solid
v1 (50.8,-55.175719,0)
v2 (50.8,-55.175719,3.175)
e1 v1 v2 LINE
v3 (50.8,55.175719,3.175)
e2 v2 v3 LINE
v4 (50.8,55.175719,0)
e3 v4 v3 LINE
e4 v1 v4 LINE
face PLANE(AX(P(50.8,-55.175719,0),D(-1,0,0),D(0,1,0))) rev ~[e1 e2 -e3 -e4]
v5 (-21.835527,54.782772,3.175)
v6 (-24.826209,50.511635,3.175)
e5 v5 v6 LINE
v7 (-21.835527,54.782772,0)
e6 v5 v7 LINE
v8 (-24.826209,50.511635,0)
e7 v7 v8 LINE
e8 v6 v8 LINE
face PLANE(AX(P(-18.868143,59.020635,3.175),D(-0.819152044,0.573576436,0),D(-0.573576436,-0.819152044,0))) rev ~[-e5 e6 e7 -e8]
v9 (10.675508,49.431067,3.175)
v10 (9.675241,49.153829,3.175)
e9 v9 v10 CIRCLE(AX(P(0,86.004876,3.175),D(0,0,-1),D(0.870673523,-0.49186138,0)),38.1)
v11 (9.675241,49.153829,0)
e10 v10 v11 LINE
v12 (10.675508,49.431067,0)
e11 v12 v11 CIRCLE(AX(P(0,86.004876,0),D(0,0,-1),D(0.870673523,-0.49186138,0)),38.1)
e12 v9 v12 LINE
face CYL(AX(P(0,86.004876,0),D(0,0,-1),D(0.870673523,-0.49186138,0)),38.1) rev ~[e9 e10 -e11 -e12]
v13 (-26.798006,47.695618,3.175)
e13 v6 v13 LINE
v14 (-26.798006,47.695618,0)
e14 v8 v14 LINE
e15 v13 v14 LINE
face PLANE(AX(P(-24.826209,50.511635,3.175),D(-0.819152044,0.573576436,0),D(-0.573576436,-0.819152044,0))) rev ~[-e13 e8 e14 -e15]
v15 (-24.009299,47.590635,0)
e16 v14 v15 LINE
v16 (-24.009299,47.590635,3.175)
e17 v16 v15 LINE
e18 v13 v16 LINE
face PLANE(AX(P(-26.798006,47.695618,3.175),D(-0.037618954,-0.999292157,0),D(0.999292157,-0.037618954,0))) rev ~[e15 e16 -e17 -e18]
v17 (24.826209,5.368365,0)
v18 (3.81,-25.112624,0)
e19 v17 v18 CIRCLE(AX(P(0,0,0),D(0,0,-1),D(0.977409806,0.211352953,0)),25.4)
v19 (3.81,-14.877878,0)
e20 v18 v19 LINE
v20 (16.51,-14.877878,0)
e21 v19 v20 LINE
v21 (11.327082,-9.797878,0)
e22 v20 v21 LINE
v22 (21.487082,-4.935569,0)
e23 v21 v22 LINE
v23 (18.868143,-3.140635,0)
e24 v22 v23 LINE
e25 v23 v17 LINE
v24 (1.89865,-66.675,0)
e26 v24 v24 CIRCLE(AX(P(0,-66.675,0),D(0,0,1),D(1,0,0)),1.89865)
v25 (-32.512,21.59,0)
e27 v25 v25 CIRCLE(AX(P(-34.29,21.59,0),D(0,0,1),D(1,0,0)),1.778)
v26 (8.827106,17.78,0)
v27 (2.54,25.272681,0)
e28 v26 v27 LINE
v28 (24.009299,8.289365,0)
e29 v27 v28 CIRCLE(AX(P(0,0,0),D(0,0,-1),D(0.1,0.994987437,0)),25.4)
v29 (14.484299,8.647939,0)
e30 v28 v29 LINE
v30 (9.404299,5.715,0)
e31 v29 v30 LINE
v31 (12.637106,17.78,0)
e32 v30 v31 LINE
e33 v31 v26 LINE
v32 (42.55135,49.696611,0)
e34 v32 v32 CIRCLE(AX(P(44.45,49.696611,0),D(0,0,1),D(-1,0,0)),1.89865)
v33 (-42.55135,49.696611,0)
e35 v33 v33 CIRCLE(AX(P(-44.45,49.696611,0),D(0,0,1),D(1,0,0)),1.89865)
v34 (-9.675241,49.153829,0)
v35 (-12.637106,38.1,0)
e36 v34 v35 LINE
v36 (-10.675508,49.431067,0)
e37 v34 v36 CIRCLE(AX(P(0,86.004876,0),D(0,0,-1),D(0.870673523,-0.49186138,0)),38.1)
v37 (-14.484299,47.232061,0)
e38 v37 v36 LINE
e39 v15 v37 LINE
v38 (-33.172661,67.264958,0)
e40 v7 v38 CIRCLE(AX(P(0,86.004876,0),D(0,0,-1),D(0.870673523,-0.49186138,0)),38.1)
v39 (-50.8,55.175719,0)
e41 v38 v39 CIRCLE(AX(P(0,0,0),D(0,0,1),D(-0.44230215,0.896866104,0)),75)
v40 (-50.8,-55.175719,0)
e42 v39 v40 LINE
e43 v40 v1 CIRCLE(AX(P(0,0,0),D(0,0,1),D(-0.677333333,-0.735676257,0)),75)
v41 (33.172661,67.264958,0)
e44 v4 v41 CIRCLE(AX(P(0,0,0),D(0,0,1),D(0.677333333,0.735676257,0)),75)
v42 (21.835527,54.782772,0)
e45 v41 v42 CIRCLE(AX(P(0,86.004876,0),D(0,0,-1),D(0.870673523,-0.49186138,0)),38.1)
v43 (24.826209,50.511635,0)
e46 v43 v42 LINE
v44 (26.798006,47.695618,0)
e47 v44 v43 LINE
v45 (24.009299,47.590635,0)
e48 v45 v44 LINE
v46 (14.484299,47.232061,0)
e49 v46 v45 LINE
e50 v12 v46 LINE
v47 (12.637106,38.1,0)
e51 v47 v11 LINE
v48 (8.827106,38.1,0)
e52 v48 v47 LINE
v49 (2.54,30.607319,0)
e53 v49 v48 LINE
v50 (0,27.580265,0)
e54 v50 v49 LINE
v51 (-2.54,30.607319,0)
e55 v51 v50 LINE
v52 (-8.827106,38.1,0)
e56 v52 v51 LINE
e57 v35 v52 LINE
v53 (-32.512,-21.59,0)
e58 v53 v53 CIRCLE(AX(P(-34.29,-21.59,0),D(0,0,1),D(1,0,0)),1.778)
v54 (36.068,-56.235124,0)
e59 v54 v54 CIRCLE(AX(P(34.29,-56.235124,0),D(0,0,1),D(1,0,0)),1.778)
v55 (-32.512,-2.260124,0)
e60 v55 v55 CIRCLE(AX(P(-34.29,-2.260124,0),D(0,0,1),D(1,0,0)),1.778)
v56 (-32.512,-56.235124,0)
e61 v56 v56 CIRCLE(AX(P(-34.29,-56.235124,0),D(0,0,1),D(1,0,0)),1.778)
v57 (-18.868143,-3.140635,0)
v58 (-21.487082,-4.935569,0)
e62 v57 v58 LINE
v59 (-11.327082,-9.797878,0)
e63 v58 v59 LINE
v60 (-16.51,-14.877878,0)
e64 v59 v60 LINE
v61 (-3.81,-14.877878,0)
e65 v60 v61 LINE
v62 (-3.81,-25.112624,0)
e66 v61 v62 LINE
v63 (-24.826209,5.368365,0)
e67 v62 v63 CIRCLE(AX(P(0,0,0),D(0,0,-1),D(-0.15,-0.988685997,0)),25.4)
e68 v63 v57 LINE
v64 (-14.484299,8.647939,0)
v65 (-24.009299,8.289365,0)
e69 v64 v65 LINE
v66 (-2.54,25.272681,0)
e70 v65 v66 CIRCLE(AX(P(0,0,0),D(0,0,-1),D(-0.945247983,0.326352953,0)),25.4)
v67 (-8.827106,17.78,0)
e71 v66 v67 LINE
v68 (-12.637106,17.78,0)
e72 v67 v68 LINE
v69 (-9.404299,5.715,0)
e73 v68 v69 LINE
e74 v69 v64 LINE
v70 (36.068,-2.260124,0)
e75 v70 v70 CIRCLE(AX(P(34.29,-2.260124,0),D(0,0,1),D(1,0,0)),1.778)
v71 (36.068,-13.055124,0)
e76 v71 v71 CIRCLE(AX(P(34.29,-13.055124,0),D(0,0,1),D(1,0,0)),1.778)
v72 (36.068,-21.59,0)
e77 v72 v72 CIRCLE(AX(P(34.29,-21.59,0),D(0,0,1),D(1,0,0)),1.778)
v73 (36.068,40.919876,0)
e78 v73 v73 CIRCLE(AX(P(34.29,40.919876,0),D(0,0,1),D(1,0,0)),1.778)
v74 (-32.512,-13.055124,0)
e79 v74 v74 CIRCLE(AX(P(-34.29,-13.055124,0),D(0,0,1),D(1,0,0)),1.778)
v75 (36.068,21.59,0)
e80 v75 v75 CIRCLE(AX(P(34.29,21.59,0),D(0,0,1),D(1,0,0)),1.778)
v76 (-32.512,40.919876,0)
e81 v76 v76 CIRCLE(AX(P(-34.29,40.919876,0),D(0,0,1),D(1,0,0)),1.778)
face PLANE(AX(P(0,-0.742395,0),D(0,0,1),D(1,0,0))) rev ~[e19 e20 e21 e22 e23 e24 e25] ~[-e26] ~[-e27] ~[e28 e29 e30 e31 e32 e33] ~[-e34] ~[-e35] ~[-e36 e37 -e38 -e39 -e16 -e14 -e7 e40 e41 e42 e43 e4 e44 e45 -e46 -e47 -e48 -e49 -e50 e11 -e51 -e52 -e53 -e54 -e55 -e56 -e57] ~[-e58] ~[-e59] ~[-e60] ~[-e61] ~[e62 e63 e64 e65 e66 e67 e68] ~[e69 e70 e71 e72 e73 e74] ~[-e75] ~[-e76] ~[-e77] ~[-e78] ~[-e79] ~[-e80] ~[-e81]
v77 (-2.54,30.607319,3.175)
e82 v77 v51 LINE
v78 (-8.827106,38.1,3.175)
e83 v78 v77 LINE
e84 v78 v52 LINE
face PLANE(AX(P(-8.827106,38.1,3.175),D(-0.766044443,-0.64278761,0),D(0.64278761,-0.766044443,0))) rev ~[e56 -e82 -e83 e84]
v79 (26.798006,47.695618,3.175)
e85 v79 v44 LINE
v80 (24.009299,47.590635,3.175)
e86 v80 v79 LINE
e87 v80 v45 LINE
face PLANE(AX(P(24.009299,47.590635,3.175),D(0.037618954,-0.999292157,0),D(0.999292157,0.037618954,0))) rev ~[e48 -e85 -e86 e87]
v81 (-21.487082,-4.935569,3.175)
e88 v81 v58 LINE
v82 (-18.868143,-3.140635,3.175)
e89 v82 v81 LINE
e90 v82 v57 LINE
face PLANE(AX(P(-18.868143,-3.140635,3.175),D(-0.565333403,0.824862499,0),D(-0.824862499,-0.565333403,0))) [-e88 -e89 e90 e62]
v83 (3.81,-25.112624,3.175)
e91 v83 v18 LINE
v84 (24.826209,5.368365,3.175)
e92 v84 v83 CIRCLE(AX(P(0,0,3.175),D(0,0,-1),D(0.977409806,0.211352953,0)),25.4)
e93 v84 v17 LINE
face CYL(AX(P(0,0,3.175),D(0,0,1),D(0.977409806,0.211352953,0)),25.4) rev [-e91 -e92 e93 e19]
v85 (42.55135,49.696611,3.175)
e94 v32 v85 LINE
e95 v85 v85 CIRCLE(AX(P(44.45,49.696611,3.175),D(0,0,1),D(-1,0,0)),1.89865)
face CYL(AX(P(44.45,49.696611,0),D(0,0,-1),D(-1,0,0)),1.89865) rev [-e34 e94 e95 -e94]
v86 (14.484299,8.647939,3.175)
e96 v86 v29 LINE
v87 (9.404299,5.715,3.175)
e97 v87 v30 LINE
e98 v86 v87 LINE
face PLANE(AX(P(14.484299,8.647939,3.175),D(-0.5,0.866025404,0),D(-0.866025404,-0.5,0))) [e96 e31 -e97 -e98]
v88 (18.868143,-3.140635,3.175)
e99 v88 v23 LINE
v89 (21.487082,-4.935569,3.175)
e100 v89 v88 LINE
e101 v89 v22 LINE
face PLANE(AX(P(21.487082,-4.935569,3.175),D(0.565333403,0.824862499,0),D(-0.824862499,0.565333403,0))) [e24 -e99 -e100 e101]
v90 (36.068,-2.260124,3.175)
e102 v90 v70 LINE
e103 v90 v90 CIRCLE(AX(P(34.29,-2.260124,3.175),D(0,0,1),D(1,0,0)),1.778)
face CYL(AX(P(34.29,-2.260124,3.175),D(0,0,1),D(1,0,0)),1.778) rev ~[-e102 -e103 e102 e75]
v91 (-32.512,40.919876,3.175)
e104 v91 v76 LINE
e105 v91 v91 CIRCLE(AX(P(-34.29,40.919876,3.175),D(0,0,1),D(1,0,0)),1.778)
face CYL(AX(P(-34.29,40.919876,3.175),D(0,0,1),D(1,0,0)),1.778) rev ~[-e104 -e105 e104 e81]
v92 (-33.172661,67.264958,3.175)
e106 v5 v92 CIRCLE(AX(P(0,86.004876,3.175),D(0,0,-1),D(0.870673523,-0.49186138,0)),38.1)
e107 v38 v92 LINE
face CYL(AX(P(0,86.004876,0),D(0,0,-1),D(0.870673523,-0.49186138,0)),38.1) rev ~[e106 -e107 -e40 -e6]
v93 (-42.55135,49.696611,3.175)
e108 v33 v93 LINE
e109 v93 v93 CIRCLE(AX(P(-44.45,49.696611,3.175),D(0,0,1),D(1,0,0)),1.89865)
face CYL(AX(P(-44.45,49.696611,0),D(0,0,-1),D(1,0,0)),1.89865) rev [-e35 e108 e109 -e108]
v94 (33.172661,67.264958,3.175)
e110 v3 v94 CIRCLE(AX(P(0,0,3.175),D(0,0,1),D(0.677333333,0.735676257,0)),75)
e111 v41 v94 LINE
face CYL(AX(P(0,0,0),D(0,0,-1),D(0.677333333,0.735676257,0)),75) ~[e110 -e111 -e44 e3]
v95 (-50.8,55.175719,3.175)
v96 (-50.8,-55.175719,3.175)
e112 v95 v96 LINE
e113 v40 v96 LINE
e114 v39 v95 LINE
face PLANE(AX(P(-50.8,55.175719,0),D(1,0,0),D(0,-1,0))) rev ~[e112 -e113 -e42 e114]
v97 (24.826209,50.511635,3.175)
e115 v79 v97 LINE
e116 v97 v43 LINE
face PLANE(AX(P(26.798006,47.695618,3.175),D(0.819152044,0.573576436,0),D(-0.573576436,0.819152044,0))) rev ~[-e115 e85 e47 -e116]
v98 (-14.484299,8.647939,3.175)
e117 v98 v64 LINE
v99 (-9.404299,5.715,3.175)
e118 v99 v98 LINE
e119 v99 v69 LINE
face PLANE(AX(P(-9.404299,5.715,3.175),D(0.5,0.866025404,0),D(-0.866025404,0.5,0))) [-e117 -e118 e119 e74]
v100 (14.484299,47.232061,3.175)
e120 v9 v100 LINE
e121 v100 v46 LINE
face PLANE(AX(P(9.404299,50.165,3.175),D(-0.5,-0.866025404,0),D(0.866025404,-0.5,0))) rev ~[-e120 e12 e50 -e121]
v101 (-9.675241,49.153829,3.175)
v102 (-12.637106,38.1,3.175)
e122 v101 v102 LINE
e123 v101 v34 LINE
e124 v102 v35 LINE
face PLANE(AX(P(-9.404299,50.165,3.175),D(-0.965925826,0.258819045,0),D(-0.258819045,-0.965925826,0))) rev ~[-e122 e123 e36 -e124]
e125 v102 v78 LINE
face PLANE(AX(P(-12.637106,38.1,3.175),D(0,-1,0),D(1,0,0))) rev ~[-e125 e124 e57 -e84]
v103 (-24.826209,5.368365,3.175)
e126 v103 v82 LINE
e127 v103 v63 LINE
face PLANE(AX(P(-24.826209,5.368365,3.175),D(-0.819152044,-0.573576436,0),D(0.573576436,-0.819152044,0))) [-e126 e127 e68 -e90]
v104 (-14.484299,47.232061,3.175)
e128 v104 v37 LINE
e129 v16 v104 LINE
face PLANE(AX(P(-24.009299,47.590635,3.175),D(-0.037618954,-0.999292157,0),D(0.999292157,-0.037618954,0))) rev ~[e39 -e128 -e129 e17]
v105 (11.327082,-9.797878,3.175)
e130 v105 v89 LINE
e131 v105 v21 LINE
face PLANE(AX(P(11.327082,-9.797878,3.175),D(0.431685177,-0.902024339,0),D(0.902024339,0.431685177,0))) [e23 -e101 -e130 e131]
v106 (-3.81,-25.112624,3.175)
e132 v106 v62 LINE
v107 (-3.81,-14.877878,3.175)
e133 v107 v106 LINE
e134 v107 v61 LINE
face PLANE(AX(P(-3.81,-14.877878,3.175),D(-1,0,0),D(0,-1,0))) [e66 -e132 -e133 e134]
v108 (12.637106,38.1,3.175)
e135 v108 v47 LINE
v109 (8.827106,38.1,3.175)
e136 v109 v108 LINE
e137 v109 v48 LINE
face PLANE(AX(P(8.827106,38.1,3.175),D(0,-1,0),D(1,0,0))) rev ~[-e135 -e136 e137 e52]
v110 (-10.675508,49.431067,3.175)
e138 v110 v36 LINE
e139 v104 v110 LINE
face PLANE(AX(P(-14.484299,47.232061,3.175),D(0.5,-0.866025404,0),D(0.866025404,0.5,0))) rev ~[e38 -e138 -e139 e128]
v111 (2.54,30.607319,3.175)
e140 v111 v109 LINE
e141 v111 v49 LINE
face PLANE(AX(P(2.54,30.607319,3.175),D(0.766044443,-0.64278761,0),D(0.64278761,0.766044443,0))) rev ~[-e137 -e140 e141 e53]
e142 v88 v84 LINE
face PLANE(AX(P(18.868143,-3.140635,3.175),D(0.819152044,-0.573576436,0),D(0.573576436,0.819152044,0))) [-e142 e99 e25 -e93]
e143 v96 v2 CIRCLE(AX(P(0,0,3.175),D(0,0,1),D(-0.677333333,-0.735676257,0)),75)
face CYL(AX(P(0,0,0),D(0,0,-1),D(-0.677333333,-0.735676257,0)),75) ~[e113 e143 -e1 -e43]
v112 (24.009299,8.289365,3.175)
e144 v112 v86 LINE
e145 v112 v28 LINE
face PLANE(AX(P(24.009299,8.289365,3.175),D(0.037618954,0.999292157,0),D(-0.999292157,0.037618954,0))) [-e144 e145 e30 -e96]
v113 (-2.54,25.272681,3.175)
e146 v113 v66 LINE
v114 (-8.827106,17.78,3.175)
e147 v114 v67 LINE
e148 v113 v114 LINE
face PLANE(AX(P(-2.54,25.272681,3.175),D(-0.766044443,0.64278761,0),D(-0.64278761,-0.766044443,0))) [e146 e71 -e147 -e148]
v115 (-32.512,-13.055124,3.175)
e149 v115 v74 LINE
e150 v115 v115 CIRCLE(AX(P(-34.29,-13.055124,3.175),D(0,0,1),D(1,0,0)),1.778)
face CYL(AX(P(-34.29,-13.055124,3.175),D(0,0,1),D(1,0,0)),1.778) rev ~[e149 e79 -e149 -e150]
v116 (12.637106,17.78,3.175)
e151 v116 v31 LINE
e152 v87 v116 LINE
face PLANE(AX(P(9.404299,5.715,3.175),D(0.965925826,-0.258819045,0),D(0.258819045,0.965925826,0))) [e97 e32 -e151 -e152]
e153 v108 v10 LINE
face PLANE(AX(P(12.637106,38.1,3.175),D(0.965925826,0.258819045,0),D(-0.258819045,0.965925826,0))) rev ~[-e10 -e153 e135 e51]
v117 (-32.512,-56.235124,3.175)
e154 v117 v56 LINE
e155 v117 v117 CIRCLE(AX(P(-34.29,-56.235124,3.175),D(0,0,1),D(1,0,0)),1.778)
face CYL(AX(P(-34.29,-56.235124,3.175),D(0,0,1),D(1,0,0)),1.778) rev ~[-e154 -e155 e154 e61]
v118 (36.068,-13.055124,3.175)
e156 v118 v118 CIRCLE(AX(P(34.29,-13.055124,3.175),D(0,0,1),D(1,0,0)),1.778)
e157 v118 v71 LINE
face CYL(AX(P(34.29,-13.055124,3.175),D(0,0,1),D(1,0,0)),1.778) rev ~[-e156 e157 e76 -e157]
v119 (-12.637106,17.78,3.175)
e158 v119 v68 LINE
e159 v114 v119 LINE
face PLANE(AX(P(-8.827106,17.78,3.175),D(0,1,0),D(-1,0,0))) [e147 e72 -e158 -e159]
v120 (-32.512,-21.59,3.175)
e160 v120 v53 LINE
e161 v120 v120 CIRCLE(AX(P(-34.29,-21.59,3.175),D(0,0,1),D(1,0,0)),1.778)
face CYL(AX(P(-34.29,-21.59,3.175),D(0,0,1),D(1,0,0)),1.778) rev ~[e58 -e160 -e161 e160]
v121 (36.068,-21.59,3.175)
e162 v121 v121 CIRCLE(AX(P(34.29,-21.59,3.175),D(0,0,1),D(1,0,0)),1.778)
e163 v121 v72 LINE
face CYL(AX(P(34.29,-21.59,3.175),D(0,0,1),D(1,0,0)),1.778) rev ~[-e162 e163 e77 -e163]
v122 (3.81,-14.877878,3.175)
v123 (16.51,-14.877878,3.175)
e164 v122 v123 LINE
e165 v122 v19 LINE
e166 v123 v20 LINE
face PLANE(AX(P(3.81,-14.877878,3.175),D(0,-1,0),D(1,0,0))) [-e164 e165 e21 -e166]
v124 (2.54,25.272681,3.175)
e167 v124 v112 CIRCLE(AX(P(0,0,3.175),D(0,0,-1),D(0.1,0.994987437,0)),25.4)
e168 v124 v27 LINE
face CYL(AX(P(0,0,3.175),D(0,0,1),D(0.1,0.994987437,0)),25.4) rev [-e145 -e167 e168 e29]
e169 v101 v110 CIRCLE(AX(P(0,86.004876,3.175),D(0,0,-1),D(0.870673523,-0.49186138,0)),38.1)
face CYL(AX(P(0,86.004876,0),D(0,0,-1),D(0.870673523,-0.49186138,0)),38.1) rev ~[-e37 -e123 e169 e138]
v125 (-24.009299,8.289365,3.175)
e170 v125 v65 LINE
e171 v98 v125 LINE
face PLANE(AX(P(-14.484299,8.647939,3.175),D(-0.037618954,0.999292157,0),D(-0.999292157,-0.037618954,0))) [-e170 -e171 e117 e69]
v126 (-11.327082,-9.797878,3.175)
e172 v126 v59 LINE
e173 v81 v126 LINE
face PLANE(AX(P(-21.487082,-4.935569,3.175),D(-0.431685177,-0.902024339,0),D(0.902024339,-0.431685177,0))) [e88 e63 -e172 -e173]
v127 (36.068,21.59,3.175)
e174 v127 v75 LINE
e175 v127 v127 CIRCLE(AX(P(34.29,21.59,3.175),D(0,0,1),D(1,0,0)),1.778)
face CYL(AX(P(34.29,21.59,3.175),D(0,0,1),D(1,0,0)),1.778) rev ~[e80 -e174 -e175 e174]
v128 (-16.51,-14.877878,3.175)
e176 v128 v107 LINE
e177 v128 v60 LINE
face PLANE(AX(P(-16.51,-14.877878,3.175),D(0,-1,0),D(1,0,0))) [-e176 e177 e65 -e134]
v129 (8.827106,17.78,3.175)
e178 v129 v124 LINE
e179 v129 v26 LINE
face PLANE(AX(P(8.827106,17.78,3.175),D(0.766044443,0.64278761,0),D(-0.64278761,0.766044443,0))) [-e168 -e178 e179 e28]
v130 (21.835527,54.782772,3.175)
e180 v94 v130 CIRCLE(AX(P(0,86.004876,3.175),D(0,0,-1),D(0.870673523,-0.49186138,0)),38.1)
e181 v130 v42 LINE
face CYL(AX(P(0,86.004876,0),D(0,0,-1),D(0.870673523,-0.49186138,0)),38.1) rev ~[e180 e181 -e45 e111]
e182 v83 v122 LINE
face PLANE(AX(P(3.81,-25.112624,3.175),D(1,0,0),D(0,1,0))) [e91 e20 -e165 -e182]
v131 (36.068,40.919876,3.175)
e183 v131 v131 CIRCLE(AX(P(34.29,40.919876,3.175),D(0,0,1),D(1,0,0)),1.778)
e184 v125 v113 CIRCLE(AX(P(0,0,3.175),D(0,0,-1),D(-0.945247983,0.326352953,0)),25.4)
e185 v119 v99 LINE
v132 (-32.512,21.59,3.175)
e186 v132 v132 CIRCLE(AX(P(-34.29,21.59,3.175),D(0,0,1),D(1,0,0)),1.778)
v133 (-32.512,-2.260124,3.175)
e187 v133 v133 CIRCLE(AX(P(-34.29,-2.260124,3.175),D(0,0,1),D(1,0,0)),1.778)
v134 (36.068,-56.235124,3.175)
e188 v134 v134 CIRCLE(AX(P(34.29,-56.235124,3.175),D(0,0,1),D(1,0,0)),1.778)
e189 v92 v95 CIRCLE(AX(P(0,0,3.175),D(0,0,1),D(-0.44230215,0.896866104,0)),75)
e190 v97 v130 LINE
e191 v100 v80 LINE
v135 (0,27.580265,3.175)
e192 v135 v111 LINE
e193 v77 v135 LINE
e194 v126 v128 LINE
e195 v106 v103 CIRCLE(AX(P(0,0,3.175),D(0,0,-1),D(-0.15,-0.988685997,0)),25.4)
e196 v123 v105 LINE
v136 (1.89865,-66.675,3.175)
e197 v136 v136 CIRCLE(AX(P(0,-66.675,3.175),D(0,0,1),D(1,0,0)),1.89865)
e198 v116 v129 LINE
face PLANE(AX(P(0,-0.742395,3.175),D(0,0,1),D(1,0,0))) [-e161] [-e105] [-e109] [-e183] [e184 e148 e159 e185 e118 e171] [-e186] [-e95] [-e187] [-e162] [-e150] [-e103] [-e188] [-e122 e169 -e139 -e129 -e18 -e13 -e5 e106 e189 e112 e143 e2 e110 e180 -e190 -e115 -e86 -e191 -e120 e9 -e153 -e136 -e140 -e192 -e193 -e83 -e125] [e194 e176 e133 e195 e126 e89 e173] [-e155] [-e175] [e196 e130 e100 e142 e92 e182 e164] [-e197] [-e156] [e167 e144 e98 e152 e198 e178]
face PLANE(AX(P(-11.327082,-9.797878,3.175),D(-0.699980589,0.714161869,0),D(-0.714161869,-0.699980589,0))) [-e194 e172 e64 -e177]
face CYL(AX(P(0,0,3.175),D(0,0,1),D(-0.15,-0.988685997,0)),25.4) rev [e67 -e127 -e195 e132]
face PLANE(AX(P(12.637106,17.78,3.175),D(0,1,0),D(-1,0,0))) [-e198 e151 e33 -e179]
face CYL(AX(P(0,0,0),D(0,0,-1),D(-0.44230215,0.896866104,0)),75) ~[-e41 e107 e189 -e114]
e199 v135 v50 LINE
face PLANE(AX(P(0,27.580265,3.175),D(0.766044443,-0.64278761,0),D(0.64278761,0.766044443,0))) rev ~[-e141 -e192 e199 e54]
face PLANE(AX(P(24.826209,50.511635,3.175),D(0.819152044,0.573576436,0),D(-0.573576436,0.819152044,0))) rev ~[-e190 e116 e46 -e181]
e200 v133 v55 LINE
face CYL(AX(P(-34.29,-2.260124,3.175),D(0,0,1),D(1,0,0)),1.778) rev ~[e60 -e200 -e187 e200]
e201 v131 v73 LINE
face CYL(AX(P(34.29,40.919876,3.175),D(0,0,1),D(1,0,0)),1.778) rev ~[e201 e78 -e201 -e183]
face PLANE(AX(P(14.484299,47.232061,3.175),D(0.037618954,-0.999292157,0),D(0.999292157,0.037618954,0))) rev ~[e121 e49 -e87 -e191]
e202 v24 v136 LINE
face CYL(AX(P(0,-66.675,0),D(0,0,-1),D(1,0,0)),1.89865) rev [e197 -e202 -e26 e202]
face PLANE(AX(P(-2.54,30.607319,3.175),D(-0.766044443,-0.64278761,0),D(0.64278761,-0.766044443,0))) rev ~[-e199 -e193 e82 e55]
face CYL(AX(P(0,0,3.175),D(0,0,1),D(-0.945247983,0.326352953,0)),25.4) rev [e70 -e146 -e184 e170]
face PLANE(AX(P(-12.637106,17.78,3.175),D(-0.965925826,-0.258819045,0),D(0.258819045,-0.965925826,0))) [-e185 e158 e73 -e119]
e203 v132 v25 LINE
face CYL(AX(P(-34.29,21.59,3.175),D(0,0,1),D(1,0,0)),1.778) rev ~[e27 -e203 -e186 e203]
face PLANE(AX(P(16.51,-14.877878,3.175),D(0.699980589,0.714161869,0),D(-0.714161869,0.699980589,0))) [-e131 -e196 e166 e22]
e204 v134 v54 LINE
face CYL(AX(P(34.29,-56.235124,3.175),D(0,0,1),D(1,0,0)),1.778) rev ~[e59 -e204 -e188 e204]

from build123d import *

# Parameters (mm, degrees)
SKETCH1_R           = 1.89865
BOSS_EXTRUDE3_DEPTH = 3.175
CUT_EXTRUDE2_DEPTH  = 3.175
SKETCH4_R           = 1.778
CUT_EXTRUDE3_DEPTH  = 3.175
SKETCH5_R           = 1.778
CUT_EXTRUDE4_DEPTH  = 3.175
CUT_EXTRUDE5_DEPTH  = 3.175


with BuildPart() as part:
    # Sketch1 → Boss-Extrude3 (new body)
    with BuildSketch(Plane.XY):
        with BuildLine():
            Line((-50.8, 55.175719298), (-50.8, -55.175719298))
            ThreePointArc((-50.8, -55.175719298), (0, -75), (50.8, -55.175719298))
            Line((50.8, -55.175719298), (50.8, 55.175719298))
            ThreePointArc((50.8, 55.175719298), (42.419210034, 61.851520758), (33.172661219, 67.264957799))
            ThreePointArc((33.172661219, 67.264957799), (0, 47.904876359), (-33.172661219, 67.264957799))
            ThreePointArc((-33.172661219, 67.264957799), (-42.419210034, 61.851520758), (-50.8, 55.175719298))
        make_face()
        with Locations((0, -66.675)):
            Circle(SKETCH1_R, mode=Mode.SUBTRACT)
        with Locations((-44.45, 49.6966108)):
            Circle(SKETCH1_R, mode=Mode.SUBTRACT)
        with Locations(Location((44.45, 49.6966108, 0), (0, 0, 180))):
            Circle(SKETCH1_R, mode=Mode.SUBTRACT)
    extrude(amount=BOSS_EXTRUDE3_DEPTH)

    # Sketch3 → Cut-Extrude2 (cut)
    with BuildSketch(Plane.XY.offset(3.175)):
        with BuildLine():
            Line((8.827105782, 17.78), (2.54, 25.272680903))
            ThreePointArc((2.54, 25.272680903), (15.758317518, 19.920728626), (24.009298775, 8.289365013))
            Line((24.009298775, 8.289365013), (14.484298775, 8.647939367))
            Line((14.484298775, 8.647939367), (9.404298775, 5.715))
            Line((9.404298775, 5.715), (12.637105782, 17.78))
            Line((12.637105782, 17.78), (8.827105782, 17.78))
        make_face()
        with BuildLine():
            Line((18.868143133, -3.140634987), (24.826209076, 5.368365013))
            ThreePointArc((24.826209076, 5.368365013), (20.911260009, -14.418016674), (3.81, -25.112624315))
            Line((3.81, -25.112624315), (3.81, -14.877877919))
            Line((3.81, -14.877877919), (16.51, -14.877877919))
            Line((16.51, -14.877877919), (11.327081569, -9.797877919))
            Line((11.327081569, -9.797877919), (21.487081569, -4.935568543))
            Line((21.487081569, -4.935568543), (18.868143133, -3.140634987))
        make_face()
        with BuildLine():
            Line((-3.81, -14.877877919), (-3.81, -25.112624315))
            ThreePointArc((-3.81, -25.112624315), (-20.911260009, -14.418016674), (-24.826209076, 5.368365013))
            Line((-24.826209076, 5.368365013), (-18.868143133, -3.140634987))
            Line((-18.868143133, -3.140634987), (-21.487081569, -4.935568543))
            Line((-21.487081569, -4.935568543), (-11.327081569, -9.797877919))
            Line((-11.327081569, -9.797877919), (-16.51, -14.877877919))
            Line((-16.51, -14.877877919), (-3.81, -14.877877919))
        make_face()
        with BuildLine():
            Line((-14.484298775, 8.647939367), (-24.009298775, 8.289365013))
            ThreePointArc((-24.009298775, 8.289365013), (-15.758317518, 19.920728626), (-2.54, 25.272680903))
            Line((-2.54, 25.272680903), (-8.827105782, 17.78))
            Line((-8.827105782, 17.78), (-12.637105782, 17.78))
            Line((-12.637105782, 17.78), (-9.404298775, 5.715))
            Line((-9.404298775, 5.715), (-14.484298775, 8.647939367))
        make_face()
    extrude(amount=-CUT_EXTRUDE2_DEPTH, mode=Mode.SUBTRACT)

    # Sketch4 → Cut-Extrude3 (cut)
    with BuildSketch(Plane.XY.offset(3.175)):
        with Locations((-34.29, 40.919876359)):
            Circle(SKETCH4_R)
        with Locations((34.29, 40.919876359)):
            Circle(SKETCH4_R)
        with Locations((34.29, -2.260123641)):
            Circle(SKETCH4_R)
        with Locations((-34.29, -2.260123641)):
            Circle(SKETCH4_R)
        with Locations((-34.29, -13.055123641)):
            Circle(SKETCH4_R)
        with Locations((34.29, -13.055123641)):
            Circle(SKETCH4_R)
        with Locations((34.29, -56.235123641)):
            Circle(SKETCH4_R)
        with Locations((-34.29, -56.235123641)):
            Circle(SKETCH4_R)
    extrude(amount=-CUT_EXTRUDE3_DEPTH, mode=Mode.SUBTRACT)

    # Sketch5 → Cut-Extrude4 (cut)
    with BuildSketch(Plane.XY.offset(3.175)):
        with Locations((-34.29, 21.59)):
            Circle(SKETCH5_R)
        with Locations((34.29, 21.59)):
            Circle(SKETCH5_R)
        with Locations((34.29, -21.59)):
            Circle(SKETCH5_R)
        with Locations((-34.29, -21.59)):
            Circle(SKETCH5_R)
    extrude(amount=-CUT_EXTRUDE4_DEPTH, mode=Mode.SUBTRACT)

    # Sketch6 → Cut-Extrude5 (cut)
    with BuildSketch(Plane.XY.offset(3.175)):
        Polygon((-8.827105782, 38.1), (-2.54, 30.607319097), (0, 27.580264972), (2.54, 30.607319097), (8.827105782, 38.1), (12.637105782, 38.1), (9.404298775, 50.165), (14.484298775, 47.232060633), (24.009298775, 47.590634987), (26.798005722, 47.695617537), (24.826209076, 50.511634987), (18.868143133, 59.020634987), (-18.868143133, 59.020634987), (-24.826209076, 50.511634987), (-26.798005722, 47.695617537), (-24.009298775, 47.590634987), (-14.484298775, 47.232060633), (-9.404298775, 50.165), (-12.637105782, 38.1), align=None)
    extrude(amount=-CUT_EXTRUDE5_DEPTH, mode=Mode.SUBTRACT)


solid = part.part
